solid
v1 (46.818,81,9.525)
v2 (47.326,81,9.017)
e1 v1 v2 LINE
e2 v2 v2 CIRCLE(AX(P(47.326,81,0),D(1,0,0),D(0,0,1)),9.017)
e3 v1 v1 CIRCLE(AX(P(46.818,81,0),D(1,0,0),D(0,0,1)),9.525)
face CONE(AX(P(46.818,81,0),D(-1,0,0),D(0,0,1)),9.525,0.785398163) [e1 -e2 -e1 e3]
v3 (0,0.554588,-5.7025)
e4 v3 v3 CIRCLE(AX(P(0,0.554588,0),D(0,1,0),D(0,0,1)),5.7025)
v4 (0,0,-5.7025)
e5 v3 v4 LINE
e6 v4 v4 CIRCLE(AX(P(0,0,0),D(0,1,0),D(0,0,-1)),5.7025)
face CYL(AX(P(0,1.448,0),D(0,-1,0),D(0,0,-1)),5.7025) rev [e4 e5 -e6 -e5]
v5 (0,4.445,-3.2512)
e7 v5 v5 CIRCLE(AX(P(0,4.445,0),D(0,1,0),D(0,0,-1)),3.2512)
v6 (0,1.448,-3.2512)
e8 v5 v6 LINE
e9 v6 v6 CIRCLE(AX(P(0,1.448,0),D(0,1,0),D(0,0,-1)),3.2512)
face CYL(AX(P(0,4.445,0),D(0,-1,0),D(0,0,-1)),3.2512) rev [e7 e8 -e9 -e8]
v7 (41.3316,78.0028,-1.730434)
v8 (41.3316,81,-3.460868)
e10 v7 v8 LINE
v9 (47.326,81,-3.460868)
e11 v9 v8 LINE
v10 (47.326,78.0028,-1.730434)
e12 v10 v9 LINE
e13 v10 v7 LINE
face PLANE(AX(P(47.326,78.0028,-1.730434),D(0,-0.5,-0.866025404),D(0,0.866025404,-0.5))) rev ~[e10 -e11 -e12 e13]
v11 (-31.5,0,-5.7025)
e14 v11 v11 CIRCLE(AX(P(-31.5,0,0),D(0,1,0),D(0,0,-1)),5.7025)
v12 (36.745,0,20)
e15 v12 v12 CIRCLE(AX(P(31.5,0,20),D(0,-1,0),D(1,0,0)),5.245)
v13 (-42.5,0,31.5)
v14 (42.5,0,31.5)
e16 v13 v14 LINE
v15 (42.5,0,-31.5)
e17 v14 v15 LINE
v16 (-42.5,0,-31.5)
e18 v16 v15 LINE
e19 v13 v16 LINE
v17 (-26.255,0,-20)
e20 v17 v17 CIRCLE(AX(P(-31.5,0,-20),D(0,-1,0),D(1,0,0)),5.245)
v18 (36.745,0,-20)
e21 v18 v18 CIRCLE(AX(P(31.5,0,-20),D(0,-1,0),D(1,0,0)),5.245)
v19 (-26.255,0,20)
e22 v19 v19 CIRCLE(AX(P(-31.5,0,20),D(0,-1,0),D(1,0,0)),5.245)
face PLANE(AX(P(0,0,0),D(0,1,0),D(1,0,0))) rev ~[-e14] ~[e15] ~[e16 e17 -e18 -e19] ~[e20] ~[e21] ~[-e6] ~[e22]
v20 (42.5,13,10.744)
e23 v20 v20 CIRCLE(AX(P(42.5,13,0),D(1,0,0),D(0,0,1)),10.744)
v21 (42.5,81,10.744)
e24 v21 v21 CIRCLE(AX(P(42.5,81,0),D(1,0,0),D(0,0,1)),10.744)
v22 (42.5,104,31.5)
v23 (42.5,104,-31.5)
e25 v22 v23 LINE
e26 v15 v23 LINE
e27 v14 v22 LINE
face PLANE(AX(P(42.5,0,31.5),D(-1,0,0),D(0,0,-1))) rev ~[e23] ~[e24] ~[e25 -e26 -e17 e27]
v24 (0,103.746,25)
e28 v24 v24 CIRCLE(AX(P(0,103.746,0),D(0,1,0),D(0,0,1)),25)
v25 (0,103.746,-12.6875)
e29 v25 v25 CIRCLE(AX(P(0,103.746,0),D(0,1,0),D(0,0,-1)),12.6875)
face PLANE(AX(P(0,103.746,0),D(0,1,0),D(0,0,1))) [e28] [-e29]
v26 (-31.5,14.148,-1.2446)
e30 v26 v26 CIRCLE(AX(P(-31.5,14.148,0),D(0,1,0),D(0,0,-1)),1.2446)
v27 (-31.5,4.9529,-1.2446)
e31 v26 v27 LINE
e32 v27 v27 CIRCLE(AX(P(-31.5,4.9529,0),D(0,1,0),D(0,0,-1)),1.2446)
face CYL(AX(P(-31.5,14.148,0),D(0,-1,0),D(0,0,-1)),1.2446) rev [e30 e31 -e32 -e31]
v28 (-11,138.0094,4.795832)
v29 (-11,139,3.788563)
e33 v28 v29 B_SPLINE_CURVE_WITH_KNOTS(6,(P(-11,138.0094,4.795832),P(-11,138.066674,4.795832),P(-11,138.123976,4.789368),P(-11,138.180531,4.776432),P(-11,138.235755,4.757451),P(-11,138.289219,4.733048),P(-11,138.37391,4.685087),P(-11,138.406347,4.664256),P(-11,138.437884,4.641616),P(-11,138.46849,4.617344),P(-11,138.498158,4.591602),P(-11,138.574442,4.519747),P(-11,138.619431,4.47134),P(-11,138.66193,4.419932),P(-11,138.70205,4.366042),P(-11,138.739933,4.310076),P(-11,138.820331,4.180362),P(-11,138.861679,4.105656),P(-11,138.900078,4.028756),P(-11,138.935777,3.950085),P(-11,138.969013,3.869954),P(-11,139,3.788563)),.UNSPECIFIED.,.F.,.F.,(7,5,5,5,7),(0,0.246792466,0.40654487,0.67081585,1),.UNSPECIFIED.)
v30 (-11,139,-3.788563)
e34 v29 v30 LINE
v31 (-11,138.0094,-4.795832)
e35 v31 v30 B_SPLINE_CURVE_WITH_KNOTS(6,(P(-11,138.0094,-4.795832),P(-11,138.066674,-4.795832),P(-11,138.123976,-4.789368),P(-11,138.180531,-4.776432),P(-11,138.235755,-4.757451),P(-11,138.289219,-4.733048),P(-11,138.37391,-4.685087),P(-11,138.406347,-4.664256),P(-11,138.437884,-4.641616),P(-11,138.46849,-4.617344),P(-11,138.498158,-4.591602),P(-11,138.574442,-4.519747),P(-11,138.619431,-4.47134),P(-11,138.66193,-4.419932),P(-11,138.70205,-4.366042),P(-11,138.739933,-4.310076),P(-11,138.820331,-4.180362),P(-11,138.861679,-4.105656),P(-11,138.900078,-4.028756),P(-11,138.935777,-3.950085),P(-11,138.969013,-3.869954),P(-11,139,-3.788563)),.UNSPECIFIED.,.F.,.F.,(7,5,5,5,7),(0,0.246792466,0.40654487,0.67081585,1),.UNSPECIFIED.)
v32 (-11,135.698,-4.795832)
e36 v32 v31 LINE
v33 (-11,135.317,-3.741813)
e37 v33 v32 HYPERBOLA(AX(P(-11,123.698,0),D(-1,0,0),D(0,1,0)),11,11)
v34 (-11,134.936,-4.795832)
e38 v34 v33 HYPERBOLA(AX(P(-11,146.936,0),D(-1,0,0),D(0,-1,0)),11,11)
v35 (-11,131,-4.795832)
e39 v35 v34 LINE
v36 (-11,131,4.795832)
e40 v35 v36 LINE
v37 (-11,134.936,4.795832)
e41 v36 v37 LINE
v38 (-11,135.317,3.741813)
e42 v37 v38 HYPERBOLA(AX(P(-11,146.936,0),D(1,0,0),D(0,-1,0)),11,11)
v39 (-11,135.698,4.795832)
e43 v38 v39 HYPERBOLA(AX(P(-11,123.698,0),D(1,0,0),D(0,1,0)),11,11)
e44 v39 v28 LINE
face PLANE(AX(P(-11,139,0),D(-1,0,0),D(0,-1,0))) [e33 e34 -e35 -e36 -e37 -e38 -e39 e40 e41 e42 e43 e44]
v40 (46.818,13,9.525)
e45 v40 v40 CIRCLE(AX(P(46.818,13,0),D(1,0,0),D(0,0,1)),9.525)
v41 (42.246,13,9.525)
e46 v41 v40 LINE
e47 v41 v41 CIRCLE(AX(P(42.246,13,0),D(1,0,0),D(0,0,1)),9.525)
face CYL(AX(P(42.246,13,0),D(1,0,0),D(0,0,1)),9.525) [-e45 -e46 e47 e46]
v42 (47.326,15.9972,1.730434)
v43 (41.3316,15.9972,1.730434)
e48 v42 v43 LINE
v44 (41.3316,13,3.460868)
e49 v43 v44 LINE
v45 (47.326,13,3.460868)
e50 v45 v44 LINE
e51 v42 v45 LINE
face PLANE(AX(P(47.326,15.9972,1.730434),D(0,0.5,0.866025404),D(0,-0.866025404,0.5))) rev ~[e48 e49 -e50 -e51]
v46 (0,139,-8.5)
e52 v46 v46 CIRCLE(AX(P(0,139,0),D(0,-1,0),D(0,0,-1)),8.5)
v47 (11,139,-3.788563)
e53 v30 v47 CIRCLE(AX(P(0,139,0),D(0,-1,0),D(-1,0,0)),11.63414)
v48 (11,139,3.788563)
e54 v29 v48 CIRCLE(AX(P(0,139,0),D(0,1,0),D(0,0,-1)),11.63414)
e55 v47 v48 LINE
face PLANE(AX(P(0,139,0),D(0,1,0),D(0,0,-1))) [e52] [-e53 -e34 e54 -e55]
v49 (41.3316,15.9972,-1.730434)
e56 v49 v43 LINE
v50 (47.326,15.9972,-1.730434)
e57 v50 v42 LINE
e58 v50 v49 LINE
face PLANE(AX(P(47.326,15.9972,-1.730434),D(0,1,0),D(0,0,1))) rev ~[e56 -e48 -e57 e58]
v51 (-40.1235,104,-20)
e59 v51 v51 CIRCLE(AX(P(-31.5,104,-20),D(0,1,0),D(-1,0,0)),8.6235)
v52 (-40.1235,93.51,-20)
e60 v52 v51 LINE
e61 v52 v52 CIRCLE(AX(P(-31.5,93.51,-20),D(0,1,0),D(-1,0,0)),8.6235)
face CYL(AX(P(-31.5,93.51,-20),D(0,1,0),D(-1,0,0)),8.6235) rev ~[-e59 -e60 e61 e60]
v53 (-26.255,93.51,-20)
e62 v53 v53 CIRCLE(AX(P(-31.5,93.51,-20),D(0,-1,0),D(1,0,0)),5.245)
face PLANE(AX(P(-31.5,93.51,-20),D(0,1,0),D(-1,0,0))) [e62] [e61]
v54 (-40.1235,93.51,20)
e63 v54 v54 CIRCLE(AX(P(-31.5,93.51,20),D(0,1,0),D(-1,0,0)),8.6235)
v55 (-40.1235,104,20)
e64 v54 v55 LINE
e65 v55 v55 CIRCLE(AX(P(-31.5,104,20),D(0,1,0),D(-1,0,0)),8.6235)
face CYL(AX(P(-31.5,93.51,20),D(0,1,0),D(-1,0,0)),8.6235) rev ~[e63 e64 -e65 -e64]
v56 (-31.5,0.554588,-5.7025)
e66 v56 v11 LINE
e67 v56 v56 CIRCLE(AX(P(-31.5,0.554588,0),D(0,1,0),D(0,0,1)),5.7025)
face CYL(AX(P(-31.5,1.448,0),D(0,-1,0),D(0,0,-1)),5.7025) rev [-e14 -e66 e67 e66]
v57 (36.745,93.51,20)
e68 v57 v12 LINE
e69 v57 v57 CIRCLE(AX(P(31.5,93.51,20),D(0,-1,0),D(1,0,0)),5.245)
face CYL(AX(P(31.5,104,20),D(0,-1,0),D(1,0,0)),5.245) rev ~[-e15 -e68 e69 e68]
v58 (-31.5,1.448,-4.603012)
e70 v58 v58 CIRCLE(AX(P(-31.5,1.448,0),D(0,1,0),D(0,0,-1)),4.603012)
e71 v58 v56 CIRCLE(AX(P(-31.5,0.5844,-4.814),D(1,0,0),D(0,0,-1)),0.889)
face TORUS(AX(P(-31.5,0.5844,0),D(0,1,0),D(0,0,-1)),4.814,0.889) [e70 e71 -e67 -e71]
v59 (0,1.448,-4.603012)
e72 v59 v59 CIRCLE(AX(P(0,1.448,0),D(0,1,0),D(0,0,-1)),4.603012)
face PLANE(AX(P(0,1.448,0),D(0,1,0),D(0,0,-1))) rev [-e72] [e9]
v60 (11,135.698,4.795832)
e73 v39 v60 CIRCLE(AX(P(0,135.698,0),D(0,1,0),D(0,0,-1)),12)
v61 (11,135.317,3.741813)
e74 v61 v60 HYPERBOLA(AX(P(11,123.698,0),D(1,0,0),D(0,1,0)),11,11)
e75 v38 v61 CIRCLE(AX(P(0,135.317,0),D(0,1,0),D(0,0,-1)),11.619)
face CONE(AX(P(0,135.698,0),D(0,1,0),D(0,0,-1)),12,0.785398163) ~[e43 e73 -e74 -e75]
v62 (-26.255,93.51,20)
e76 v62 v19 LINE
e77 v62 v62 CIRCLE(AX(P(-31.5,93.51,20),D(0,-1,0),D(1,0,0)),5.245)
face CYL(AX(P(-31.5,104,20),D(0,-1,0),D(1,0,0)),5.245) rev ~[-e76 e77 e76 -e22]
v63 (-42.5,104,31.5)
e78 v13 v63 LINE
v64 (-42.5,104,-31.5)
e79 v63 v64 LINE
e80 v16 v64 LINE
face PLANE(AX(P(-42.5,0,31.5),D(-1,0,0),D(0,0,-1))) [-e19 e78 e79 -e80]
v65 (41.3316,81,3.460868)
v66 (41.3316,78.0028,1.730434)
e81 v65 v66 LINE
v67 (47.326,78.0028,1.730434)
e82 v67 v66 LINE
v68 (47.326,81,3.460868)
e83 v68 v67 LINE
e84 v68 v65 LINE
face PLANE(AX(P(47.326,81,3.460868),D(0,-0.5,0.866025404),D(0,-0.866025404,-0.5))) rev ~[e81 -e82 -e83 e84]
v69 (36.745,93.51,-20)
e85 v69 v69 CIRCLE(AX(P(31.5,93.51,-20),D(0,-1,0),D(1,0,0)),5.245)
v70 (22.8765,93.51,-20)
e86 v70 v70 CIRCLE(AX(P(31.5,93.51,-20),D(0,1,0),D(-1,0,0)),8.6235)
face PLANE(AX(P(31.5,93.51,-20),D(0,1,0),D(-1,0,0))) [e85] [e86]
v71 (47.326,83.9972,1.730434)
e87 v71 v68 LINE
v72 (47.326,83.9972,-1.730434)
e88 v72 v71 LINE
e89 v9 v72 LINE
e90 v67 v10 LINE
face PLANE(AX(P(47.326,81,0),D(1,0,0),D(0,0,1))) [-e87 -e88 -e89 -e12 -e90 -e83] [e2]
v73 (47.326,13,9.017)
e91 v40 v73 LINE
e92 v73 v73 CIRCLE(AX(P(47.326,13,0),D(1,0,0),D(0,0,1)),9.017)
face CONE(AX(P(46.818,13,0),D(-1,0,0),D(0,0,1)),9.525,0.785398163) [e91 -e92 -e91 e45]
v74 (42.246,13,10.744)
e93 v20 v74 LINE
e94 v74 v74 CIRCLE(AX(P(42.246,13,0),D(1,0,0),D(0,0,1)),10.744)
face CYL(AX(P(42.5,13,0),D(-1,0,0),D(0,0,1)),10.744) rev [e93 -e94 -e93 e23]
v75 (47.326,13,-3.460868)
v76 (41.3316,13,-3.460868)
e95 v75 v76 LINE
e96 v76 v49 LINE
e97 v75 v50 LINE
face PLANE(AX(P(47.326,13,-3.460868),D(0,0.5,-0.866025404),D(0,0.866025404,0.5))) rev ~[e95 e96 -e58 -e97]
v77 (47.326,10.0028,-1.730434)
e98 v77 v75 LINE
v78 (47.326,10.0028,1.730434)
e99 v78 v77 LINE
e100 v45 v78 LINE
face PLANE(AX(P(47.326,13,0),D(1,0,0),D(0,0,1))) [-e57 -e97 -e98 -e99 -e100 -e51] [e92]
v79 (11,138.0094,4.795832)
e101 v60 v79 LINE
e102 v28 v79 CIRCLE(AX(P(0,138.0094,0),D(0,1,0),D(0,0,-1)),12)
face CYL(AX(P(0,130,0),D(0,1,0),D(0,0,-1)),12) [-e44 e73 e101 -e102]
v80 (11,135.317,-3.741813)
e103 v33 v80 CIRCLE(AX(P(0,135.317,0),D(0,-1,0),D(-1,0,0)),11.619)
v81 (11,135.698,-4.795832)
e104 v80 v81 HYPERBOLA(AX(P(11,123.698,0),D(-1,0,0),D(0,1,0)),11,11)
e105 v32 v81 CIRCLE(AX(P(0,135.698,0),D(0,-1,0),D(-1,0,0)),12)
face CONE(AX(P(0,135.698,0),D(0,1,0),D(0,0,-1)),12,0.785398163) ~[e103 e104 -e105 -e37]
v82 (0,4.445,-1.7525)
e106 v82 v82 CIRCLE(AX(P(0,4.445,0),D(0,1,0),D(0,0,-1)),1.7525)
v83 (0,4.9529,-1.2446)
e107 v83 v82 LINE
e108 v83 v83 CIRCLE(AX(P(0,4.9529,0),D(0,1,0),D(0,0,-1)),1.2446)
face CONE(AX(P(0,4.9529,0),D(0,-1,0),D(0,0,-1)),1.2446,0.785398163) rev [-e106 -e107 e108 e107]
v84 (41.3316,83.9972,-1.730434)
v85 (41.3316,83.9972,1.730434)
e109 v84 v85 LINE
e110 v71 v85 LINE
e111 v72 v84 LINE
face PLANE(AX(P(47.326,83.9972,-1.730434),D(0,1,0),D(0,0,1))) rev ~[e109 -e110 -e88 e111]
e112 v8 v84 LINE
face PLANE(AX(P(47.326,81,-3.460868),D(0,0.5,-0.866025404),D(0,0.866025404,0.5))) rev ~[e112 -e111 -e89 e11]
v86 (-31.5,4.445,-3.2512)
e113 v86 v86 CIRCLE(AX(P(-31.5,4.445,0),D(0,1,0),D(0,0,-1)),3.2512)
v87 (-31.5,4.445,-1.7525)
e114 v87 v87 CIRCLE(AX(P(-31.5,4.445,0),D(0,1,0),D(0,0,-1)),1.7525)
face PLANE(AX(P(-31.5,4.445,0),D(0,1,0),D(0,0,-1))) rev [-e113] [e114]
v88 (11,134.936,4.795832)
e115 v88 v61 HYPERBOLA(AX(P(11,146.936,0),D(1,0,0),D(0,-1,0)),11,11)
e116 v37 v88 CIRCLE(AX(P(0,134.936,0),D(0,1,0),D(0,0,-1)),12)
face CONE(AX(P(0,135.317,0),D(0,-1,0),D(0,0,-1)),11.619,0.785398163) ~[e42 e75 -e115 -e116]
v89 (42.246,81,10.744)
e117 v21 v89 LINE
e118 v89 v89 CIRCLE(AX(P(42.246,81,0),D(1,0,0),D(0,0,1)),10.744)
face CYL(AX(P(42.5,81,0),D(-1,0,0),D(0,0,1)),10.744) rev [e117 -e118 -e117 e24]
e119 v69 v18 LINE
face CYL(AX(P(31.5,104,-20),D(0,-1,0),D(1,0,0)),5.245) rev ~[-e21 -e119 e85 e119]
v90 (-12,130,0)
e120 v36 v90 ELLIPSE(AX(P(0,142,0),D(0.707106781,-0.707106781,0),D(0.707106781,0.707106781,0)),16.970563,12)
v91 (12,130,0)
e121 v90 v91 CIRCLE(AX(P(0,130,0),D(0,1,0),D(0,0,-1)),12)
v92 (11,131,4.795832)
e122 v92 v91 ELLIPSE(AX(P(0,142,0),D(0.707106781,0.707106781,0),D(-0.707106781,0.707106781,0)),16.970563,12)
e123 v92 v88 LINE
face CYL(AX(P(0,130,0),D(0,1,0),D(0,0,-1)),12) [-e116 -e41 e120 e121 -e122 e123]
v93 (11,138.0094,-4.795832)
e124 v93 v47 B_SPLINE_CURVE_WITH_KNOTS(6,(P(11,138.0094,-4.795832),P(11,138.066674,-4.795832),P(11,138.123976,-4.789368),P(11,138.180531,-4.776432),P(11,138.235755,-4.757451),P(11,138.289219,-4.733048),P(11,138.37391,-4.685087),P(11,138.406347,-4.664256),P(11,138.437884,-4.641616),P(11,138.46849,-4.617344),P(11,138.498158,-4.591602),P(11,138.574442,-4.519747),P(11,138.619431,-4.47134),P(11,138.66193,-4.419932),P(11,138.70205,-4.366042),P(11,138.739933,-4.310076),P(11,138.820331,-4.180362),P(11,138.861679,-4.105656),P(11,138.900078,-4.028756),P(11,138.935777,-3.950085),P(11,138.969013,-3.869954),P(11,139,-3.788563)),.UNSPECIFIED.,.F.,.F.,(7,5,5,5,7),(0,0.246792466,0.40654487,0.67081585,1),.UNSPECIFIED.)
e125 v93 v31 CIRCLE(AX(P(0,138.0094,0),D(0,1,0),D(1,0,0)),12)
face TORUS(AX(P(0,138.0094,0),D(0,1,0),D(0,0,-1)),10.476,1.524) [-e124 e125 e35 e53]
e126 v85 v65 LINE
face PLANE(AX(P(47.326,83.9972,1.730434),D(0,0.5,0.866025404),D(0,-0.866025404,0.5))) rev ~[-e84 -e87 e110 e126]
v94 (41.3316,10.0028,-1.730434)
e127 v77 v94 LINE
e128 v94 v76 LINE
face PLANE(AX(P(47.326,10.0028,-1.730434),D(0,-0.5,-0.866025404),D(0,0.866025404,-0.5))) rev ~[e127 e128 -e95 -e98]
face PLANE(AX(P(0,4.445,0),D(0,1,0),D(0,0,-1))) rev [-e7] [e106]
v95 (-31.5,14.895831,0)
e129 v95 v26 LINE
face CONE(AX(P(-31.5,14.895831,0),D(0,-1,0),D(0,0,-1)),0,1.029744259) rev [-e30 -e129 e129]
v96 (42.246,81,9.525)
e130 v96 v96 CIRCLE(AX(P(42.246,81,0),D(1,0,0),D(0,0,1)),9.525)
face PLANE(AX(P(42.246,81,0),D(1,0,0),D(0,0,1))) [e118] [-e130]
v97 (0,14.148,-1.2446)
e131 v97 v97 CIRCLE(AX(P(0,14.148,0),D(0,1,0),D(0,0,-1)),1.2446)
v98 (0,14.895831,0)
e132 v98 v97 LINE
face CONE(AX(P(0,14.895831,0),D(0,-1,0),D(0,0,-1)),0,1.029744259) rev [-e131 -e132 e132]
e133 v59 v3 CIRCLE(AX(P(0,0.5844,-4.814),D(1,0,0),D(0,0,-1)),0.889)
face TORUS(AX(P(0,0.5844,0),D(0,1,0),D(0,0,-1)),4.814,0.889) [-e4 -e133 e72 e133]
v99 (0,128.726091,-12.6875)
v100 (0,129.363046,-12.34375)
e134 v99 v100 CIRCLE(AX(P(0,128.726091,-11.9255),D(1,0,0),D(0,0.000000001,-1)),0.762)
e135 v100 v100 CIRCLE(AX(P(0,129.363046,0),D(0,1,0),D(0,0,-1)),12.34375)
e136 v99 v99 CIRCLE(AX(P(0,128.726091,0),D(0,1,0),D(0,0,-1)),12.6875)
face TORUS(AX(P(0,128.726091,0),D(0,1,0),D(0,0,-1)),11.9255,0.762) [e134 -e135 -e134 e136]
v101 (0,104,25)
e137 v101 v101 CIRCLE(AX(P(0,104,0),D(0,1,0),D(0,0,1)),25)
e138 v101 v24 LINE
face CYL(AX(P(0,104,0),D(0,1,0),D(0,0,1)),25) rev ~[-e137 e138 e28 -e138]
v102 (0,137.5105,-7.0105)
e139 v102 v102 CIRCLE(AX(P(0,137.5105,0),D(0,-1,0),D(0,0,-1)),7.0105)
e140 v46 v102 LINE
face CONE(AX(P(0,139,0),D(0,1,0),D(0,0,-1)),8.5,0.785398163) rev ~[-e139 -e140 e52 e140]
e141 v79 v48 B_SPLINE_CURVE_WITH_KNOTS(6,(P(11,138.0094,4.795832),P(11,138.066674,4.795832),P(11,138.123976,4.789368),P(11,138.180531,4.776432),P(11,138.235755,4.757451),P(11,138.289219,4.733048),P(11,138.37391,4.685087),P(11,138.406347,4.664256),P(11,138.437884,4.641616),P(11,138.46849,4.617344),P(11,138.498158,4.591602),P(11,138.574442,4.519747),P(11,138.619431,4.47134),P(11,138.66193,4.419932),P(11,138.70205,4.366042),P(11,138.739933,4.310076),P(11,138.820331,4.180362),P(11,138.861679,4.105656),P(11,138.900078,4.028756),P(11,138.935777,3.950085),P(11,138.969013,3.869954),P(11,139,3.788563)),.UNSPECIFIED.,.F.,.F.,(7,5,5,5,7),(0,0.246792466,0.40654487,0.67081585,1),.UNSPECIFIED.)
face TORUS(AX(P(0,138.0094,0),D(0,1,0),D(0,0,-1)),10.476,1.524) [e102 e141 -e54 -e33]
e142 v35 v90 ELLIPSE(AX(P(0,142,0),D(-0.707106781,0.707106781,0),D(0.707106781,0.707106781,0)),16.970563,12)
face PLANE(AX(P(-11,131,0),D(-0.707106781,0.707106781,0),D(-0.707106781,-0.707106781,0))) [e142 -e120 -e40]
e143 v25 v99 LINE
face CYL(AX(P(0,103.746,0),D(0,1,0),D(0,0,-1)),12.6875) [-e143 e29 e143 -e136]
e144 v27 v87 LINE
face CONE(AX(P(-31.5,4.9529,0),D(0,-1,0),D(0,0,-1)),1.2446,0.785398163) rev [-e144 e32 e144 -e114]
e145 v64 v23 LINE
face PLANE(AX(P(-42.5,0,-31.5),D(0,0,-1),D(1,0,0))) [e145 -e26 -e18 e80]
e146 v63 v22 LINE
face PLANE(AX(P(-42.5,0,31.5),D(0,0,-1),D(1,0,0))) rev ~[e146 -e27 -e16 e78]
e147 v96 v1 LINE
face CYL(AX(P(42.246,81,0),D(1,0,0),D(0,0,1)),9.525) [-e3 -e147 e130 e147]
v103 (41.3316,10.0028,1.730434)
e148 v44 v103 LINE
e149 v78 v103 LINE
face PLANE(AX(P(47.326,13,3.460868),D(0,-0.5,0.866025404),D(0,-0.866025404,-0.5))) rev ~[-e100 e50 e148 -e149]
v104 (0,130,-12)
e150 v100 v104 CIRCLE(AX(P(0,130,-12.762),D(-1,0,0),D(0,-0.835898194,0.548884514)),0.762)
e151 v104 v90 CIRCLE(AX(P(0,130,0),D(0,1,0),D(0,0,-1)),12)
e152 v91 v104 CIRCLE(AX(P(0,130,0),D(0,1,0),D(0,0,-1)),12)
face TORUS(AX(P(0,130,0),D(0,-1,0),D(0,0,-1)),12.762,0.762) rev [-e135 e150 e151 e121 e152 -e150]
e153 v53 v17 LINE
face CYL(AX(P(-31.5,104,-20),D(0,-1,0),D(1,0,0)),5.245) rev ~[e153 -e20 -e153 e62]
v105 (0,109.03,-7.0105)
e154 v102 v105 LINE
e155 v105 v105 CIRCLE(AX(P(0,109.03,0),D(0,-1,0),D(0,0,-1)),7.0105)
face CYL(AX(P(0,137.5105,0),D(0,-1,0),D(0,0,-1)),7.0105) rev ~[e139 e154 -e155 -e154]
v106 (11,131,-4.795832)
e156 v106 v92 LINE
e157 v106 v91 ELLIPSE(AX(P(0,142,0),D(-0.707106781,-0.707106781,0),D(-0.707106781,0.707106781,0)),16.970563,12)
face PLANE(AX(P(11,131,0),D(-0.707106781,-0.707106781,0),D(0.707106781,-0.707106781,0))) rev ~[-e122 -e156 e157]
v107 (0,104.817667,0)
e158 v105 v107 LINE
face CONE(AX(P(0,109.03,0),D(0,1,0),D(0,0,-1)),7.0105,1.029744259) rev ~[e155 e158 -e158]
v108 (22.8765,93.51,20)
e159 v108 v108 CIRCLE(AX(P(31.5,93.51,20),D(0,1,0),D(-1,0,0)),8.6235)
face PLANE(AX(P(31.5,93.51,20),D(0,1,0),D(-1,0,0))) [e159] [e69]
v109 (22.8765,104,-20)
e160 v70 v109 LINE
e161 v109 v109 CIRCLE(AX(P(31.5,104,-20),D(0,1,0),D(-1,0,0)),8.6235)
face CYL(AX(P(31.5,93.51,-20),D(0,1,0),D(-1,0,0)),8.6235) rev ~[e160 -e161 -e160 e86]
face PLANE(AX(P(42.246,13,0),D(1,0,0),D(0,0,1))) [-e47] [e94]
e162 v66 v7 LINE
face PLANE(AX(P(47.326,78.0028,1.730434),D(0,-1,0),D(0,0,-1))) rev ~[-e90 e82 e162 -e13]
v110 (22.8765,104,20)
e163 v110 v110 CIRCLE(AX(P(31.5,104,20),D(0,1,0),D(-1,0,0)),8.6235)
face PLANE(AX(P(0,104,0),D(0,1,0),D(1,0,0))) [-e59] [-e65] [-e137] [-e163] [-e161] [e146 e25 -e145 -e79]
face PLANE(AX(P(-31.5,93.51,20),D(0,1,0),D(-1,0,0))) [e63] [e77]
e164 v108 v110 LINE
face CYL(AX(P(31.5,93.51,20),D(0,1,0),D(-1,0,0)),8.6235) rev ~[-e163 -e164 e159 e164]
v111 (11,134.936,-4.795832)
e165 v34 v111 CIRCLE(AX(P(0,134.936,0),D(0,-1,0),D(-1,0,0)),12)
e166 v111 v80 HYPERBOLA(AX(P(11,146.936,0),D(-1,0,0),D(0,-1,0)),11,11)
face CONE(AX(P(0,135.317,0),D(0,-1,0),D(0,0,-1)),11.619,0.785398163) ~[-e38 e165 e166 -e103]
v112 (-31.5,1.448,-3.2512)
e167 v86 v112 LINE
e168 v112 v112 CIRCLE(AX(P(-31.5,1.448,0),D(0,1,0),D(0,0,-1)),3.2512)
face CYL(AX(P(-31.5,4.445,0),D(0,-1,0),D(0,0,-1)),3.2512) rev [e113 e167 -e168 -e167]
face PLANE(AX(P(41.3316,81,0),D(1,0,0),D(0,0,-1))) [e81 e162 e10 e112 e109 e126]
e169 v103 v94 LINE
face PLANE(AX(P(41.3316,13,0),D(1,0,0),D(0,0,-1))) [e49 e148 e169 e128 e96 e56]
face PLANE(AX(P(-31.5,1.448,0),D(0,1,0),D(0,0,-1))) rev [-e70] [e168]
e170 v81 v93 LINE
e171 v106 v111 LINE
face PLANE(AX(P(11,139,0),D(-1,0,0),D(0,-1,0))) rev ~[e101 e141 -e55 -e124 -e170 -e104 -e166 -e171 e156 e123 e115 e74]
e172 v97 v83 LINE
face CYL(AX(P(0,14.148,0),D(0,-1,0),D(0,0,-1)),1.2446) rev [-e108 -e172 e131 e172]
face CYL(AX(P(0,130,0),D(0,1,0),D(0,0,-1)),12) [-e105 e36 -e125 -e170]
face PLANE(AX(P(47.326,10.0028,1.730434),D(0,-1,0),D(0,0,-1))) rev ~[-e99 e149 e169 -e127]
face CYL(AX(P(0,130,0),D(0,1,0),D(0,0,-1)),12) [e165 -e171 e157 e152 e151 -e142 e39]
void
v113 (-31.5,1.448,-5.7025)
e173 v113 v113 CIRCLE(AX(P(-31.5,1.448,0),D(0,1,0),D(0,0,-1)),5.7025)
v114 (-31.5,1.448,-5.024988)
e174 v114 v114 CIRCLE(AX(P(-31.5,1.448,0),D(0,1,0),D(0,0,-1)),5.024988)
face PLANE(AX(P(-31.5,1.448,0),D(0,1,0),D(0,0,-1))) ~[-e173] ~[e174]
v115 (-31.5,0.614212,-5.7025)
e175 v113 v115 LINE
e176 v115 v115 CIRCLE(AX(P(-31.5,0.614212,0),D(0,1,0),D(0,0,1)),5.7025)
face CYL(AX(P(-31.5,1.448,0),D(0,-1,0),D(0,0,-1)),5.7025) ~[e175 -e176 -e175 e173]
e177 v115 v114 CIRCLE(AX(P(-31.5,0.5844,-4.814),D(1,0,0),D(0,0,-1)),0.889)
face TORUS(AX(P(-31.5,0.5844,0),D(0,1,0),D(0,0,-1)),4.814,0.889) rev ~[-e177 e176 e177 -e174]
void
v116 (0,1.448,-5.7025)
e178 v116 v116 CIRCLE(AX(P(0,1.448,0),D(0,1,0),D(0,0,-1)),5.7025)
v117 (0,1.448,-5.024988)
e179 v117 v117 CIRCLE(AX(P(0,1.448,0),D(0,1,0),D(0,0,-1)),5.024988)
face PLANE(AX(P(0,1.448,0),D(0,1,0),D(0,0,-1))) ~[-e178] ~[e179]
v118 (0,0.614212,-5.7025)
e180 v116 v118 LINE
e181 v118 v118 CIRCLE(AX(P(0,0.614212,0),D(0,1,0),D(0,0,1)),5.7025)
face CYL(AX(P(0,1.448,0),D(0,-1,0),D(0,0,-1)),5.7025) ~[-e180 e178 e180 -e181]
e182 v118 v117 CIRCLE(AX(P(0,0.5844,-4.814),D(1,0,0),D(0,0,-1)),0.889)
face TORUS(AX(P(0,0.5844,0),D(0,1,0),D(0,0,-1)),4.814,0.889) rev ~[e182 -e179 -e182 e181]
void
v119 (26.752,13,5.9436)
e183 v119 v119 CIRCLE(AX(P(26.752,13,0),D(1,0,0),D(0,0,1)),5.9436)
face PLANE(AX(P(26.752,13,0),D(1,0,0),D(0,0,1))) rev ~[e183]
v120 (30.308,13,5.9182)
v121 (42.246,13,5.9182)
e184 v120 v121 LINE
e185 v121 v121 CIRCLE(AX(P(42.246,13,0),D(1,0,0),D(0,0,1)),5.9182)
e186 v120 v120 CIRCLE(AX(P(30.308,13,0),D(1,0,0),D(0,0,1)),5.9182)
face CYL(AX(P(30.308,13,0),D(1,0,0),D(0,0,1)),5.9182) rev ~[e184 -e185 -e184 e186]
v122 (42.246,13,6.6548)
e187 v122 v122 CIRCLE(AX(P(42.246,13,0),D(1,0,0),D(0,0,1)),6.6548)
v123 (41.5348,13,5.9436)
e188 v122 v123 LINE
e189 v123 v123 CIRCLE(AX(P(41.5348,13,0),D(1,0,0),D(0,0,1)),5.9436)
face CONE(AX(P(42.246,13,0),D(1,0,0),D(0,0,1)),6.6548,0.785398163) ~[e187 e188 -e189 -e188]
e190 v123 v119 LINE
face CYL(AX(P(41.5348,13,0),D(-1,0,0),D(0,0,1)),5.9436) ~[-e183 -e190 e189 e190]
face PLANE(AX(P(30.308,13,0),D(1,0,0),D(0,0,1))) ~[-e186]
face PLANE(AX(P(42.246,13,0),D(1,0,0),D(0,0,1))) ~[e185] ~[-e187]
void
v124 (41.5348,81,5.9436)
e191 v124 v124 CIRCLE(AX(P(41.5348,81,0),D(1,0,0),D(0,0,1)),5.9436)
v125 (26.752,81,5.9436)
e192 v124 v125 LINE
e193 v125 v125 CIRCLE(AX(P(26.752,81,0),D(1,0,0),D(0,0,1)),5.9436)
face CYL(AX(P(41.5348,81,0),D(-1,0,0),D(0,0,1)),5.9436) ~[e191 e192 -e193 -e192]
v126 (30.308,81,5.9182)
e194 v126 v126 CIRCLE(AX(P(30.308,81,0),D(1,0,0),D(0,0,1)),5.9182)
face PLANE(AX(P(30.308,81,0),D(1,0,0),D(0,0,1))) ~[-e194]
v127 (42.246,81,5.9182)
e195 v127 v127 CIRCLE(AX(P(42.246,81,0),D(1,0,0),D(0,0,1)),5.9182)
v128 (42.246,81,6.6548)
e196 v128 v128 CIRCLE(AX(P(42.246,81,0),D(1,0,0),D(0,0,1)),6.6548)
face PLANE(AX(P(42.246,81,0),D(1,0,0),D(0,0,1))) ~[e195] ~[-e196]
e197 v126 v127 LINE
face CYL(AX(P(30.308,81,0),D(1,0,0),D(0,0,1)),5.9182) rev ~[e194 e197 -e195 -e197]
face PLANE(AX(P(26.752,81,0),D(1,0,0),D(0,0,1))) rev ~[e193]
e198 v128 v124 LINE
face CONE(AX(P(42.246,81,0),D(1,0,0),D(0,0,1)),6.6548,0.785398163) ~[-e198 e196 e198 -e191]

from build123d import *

# Parameters (mm, degrees)
SKETCH1_W                  = 85
SKETCH1_H                  = 63
EXTRUDE1_DEPTH             = 104
SKETCH2_R                  = 25
CUT_EXTRUDE1_DEPTH         = 0.254
CHAMFER1_SIZE              = 0.508
CUT_EXTRUDE2_DEPTH         = 5.9944
LPATTERN1_COUNT            = 2
LPATTERN1_PITCH            = 68
CHAMFER1_OF_LPATTERN1_SIZE = 0.508
SKETCH7_R                  = 0.889
LPATTERN2_COUNT            = 2
LPATTERN2_PITCH            = 31.5
CUT_EXTRUDE3_DEPTH         = 32.5
CUT_EXTRUDE3_DEPTH_BACK    = 32.5
HOLE1_D                    = 10.49
HOLE1_CBORE_D              = 17.247
HOLE1_CBORE_DEPTH          = 10.49


with BuildPart() as part:
    # Sketch1 → Extrude1 (new body)
    with BuildSketch(Plane(origin=(0, 0, 0), x_dir=(1, 0, 0), z_dir=(0, 1, 0))):
        Rectangle(SKETCH1_W, SKETCH1_H)
    extrude(amount=EXTRUDE1_DEPTH)

    # Sketch2 → Cut-Extrude1 (cut)
    with BuildSketch(Plane(origin=(0, 104, 0), x_dir=(1, 0, 0), z_dir=(0, 1, 0))):
        with Locations(Location((0, 0, 0), (0, 0, 270))):  # turned: the seam where the file's is
            Circle(SKETCH2_R)
    extrude(amount=-CUT_EXTRUDE1_DEPTH, mode=Mode.SUBTRACT)

    # Sketch3 → Cut-Revolve1 (revolve, cut)
    with BuildSketch(Plane.XY, mode=Mode.PRIVATE) as cut_revolve1_sk:
        Polygon((42.5, 81), (42.5, 70.256), (42.246, 70.256), (42.246, 74.3452), (41.5348, 75.0564), (26.752, 75.0564), (26.752, 81), align=None)
    cut_revolve1 = revolve(cut_revolve1_sk.sketch.rotate(Axis((-6.847979502, 81, 0), (1, 0, 0)), 270), axis=Axis((-6.847979502, 81, 0), (1, 0, 0)), mode=Mode.SUBTRACT)  # turned: the seam where the file's is

    # Sketch4 → Revolve1 (revolve)
    with BuildSketch(Plane.XY, mode=Mode.PRIVATE) as revolve1_sk:
        Polygon((30.308, 81), (30.308, 86.9182), (42.246, 86.9182), (42.246, 90.525), (47.326, 90.525), (47.326, 81), align=None)
    revolve1 = revolve(revolve1_sk.sketch.rotate(Axis((8.732572807, 81, 0), (1, 0, 0)), 90), axis=Axis((8.732572807, 81, 0), (1, 0, 0)))  # turned: the seam where the file's is

    # Chamfer1
    chamfer1_edges = [part.edges().sort_by_distance(p)[0] for p in [
        (47.326, 81, -9.525),
    ]]
    chamfer(chamfer1_edges, length=CHAMFER1_SIZE)

    # Sketch5 → Cut-Extrude2 (cut)
    with BuildSketch(Plane(origin=(47.326, 0, 0), x_dir=(0, 0, -1), z_dir=(1, 0, 0))):
        Polygon((1.730434227, 83.9972), (-1.730434227, 83.9972), (-3.460868454, 81), (-1.730434227, 78.0028), (1.730434227, 78.0028), (3.460868454, 81), align=None)
    cut_extrude2 = extrude(amount=-CUT_EXTRUDE2_DEPTH, mode=Mode.SUBTRACT)

    # LPattern1: Cut-Revolve1, Revolve1, Cut-Extrude2 ×2
    with Locations(*[(0, -i * LPATTERN1_PITCH, 0) for i in range(1, LPATTERN1_COUNT)]):
        add(cut_revolve1, mode=Mode.SUBTRACT)
        add(revolve1)
        add(cut_extrude2, mode=Mode.SUBTRACT)

    # Chamfer1 of LPattern1
    chamfer1_of_lpattern1_edges = [part.edges().sort_by_distance(p)[0] for p in [
        (47.326, 13, -9.525),
    ]]
    chamfer(chamfer1_of_lpattern1_edges, length=CHAMFER1_OF_LPATTERN1_SIZE)

    # Sketch6 → Cut-Revolve2 (revolve, cut)
    with BuildSketch(Plane.XY, mode=Mode.PRIVATE) as cut_revolve2_sk:
        Polygon((0, 0), (0, 14.895831126), (1.2446, 14.148), (1.2446, 4.9529), (1.7525, 4.445), (3.2512, 4.445), (3.2512, 1.448), (5.7025, 1.448), (5.7025, 0), align=None)
    cut_revolve2 = revolve(cut_revolve2_sk.sketch.rotate(Axis((0, 0, 0), (0, 1, 0)), 90), axis=Axis((0, 0, 0), (0, 1, 0)), mode=Mode.SUBTRACT)  # turned: the seam where the file's is

    # Sketch7 → Revolve3 (revolve)
    with BuildSketch(Plane.XY, mode=Mode.PRIVATE) as revolve3_sk:
        with Locations((4.814, 0.5844)):
            Circle(SKETCH7_R)
    revolve3 = revolve(revolve3_sk.sketch.rotate(Axis((0, 0, 0), (0, 1, 0)), 90), axis=Axis((0, 0, 0), (0, 1, 0)))  # turned: the seam where the file's is

    # LPattern2: Cut-Revolve2, Revolve3 ×2
    with Locations(*[(-i * LPATTERN2_PITCH, 0, 0) for i in range(1, LPATTERN2_COUNT)]):
        add(cut_revolve2, mode=Mode.SUBTRACT)
        add(revolve3)

    # Sketch8 → Revolve4 (revolve)
    with BuildSketch(Plane.XY, mode=Mode.PRIVATE) as revolve4_sk:
        with BuildLine():
            Line((12.6875, 103.746), (12.6875, 128.726091153))
            ThreePointArc((12.6875, 128.726091153), (12.596078295, 129.087987202), (12.34375, 129.363045577))
            ThreePointArc((12.34375, 129.363045577), (12.091421705, 129.638103951), (12, 130))
            Line((12, 130), (12, 138.0094))
            ThreePointArc((12, 138.0094), (11.905612002, 138.537401443), (11.634139733, 139))
            Line((11.634139733, 139), (0, 139))
            Line((0, 139), (0, 103.746))
            Line((0, 103.746), (12.6875, 103.746))
        make_face()
    revolve(revolve4_sk.sketch.rotate(Axis((0, 0, 0), (0, 1, 0)), 90), axis=Axis((0, 0, 0), (0, 1, 0)))  # turned: the seam where the file's is

    # Sketch10 → Cut-Revolve3 (revolve, cut)
    with BuildSketch(Plane.XY, mode=Mode.PRIVATE) as cut_revolve3_sk:
        Polygon((8.5, 139), (7.0105, 137.5105), (7.0105, 109.03), (0, 104.81766663), (0, 139), align=None)
    revolve(cut_revolve3_sk.sketch.rotate(Axis((0, 139, 0), (0, -1, 0)), 270), axis=Axis((0, 139, 0), (0, -1, 0)), mode=Mode.SUBTRACT)  # turned: the seam where the file's is

    # Sketch11 → Cut-Revolve4 (revolve, cut)
    with BuildSketch(Plane.XY, mode=Mode.PRIVATE) as cut_revolve4_sk:
        Polygon((12, 135.698), (11.619, 135.317), (12, 134.936), align=None)
    revolve(cut_revolve4_sk.sketch.rotate(Axis((0, 0, 0), (0, 1, 0)), 90), axis=Axis((0, 0, 0), (0, 1, 0)), mode=Mode.SUBTRACT)  # turned: the seam where the file's is

    # Sketch12 → Cut-Extrude3 (cut, two sides)
    with BuildSketch(Plane.XY) as cut_extrude3_sk:
        Polygon((11, 139), (11, 131), (12.6875, 129.3125), (12.6875, 139), align=None)
        Polygon((-12.6875, 139), (-11, 139), (-11, 131), (-12.6875, 129.3125), align=None)
    extrude(amount=CUT_EXTRUDE3_DEPTH, mode=Mode.SUBTRACT)
    extrude(cut_extrude3_sk.sketch, amount=-CUT_EXTRUDE3_DEPTH_BACK, mode=Mode.SUBTRACT)

    # Hole1 (through all)
    with Locations(Plane(origin=(0, 104, 0), x_dir=(-1, 0, 0), z_dir=(0, 1, 0))):
        with Locations((31.5, 20), (31.5, -20), (-31.5, -20), (-31.5, 20)):
            CounterBoreHole(HOLE1_D / 2, HOLE1_CBORE_D / 2, HOLE1_CBORE_DEPTH)


solid = part.part
